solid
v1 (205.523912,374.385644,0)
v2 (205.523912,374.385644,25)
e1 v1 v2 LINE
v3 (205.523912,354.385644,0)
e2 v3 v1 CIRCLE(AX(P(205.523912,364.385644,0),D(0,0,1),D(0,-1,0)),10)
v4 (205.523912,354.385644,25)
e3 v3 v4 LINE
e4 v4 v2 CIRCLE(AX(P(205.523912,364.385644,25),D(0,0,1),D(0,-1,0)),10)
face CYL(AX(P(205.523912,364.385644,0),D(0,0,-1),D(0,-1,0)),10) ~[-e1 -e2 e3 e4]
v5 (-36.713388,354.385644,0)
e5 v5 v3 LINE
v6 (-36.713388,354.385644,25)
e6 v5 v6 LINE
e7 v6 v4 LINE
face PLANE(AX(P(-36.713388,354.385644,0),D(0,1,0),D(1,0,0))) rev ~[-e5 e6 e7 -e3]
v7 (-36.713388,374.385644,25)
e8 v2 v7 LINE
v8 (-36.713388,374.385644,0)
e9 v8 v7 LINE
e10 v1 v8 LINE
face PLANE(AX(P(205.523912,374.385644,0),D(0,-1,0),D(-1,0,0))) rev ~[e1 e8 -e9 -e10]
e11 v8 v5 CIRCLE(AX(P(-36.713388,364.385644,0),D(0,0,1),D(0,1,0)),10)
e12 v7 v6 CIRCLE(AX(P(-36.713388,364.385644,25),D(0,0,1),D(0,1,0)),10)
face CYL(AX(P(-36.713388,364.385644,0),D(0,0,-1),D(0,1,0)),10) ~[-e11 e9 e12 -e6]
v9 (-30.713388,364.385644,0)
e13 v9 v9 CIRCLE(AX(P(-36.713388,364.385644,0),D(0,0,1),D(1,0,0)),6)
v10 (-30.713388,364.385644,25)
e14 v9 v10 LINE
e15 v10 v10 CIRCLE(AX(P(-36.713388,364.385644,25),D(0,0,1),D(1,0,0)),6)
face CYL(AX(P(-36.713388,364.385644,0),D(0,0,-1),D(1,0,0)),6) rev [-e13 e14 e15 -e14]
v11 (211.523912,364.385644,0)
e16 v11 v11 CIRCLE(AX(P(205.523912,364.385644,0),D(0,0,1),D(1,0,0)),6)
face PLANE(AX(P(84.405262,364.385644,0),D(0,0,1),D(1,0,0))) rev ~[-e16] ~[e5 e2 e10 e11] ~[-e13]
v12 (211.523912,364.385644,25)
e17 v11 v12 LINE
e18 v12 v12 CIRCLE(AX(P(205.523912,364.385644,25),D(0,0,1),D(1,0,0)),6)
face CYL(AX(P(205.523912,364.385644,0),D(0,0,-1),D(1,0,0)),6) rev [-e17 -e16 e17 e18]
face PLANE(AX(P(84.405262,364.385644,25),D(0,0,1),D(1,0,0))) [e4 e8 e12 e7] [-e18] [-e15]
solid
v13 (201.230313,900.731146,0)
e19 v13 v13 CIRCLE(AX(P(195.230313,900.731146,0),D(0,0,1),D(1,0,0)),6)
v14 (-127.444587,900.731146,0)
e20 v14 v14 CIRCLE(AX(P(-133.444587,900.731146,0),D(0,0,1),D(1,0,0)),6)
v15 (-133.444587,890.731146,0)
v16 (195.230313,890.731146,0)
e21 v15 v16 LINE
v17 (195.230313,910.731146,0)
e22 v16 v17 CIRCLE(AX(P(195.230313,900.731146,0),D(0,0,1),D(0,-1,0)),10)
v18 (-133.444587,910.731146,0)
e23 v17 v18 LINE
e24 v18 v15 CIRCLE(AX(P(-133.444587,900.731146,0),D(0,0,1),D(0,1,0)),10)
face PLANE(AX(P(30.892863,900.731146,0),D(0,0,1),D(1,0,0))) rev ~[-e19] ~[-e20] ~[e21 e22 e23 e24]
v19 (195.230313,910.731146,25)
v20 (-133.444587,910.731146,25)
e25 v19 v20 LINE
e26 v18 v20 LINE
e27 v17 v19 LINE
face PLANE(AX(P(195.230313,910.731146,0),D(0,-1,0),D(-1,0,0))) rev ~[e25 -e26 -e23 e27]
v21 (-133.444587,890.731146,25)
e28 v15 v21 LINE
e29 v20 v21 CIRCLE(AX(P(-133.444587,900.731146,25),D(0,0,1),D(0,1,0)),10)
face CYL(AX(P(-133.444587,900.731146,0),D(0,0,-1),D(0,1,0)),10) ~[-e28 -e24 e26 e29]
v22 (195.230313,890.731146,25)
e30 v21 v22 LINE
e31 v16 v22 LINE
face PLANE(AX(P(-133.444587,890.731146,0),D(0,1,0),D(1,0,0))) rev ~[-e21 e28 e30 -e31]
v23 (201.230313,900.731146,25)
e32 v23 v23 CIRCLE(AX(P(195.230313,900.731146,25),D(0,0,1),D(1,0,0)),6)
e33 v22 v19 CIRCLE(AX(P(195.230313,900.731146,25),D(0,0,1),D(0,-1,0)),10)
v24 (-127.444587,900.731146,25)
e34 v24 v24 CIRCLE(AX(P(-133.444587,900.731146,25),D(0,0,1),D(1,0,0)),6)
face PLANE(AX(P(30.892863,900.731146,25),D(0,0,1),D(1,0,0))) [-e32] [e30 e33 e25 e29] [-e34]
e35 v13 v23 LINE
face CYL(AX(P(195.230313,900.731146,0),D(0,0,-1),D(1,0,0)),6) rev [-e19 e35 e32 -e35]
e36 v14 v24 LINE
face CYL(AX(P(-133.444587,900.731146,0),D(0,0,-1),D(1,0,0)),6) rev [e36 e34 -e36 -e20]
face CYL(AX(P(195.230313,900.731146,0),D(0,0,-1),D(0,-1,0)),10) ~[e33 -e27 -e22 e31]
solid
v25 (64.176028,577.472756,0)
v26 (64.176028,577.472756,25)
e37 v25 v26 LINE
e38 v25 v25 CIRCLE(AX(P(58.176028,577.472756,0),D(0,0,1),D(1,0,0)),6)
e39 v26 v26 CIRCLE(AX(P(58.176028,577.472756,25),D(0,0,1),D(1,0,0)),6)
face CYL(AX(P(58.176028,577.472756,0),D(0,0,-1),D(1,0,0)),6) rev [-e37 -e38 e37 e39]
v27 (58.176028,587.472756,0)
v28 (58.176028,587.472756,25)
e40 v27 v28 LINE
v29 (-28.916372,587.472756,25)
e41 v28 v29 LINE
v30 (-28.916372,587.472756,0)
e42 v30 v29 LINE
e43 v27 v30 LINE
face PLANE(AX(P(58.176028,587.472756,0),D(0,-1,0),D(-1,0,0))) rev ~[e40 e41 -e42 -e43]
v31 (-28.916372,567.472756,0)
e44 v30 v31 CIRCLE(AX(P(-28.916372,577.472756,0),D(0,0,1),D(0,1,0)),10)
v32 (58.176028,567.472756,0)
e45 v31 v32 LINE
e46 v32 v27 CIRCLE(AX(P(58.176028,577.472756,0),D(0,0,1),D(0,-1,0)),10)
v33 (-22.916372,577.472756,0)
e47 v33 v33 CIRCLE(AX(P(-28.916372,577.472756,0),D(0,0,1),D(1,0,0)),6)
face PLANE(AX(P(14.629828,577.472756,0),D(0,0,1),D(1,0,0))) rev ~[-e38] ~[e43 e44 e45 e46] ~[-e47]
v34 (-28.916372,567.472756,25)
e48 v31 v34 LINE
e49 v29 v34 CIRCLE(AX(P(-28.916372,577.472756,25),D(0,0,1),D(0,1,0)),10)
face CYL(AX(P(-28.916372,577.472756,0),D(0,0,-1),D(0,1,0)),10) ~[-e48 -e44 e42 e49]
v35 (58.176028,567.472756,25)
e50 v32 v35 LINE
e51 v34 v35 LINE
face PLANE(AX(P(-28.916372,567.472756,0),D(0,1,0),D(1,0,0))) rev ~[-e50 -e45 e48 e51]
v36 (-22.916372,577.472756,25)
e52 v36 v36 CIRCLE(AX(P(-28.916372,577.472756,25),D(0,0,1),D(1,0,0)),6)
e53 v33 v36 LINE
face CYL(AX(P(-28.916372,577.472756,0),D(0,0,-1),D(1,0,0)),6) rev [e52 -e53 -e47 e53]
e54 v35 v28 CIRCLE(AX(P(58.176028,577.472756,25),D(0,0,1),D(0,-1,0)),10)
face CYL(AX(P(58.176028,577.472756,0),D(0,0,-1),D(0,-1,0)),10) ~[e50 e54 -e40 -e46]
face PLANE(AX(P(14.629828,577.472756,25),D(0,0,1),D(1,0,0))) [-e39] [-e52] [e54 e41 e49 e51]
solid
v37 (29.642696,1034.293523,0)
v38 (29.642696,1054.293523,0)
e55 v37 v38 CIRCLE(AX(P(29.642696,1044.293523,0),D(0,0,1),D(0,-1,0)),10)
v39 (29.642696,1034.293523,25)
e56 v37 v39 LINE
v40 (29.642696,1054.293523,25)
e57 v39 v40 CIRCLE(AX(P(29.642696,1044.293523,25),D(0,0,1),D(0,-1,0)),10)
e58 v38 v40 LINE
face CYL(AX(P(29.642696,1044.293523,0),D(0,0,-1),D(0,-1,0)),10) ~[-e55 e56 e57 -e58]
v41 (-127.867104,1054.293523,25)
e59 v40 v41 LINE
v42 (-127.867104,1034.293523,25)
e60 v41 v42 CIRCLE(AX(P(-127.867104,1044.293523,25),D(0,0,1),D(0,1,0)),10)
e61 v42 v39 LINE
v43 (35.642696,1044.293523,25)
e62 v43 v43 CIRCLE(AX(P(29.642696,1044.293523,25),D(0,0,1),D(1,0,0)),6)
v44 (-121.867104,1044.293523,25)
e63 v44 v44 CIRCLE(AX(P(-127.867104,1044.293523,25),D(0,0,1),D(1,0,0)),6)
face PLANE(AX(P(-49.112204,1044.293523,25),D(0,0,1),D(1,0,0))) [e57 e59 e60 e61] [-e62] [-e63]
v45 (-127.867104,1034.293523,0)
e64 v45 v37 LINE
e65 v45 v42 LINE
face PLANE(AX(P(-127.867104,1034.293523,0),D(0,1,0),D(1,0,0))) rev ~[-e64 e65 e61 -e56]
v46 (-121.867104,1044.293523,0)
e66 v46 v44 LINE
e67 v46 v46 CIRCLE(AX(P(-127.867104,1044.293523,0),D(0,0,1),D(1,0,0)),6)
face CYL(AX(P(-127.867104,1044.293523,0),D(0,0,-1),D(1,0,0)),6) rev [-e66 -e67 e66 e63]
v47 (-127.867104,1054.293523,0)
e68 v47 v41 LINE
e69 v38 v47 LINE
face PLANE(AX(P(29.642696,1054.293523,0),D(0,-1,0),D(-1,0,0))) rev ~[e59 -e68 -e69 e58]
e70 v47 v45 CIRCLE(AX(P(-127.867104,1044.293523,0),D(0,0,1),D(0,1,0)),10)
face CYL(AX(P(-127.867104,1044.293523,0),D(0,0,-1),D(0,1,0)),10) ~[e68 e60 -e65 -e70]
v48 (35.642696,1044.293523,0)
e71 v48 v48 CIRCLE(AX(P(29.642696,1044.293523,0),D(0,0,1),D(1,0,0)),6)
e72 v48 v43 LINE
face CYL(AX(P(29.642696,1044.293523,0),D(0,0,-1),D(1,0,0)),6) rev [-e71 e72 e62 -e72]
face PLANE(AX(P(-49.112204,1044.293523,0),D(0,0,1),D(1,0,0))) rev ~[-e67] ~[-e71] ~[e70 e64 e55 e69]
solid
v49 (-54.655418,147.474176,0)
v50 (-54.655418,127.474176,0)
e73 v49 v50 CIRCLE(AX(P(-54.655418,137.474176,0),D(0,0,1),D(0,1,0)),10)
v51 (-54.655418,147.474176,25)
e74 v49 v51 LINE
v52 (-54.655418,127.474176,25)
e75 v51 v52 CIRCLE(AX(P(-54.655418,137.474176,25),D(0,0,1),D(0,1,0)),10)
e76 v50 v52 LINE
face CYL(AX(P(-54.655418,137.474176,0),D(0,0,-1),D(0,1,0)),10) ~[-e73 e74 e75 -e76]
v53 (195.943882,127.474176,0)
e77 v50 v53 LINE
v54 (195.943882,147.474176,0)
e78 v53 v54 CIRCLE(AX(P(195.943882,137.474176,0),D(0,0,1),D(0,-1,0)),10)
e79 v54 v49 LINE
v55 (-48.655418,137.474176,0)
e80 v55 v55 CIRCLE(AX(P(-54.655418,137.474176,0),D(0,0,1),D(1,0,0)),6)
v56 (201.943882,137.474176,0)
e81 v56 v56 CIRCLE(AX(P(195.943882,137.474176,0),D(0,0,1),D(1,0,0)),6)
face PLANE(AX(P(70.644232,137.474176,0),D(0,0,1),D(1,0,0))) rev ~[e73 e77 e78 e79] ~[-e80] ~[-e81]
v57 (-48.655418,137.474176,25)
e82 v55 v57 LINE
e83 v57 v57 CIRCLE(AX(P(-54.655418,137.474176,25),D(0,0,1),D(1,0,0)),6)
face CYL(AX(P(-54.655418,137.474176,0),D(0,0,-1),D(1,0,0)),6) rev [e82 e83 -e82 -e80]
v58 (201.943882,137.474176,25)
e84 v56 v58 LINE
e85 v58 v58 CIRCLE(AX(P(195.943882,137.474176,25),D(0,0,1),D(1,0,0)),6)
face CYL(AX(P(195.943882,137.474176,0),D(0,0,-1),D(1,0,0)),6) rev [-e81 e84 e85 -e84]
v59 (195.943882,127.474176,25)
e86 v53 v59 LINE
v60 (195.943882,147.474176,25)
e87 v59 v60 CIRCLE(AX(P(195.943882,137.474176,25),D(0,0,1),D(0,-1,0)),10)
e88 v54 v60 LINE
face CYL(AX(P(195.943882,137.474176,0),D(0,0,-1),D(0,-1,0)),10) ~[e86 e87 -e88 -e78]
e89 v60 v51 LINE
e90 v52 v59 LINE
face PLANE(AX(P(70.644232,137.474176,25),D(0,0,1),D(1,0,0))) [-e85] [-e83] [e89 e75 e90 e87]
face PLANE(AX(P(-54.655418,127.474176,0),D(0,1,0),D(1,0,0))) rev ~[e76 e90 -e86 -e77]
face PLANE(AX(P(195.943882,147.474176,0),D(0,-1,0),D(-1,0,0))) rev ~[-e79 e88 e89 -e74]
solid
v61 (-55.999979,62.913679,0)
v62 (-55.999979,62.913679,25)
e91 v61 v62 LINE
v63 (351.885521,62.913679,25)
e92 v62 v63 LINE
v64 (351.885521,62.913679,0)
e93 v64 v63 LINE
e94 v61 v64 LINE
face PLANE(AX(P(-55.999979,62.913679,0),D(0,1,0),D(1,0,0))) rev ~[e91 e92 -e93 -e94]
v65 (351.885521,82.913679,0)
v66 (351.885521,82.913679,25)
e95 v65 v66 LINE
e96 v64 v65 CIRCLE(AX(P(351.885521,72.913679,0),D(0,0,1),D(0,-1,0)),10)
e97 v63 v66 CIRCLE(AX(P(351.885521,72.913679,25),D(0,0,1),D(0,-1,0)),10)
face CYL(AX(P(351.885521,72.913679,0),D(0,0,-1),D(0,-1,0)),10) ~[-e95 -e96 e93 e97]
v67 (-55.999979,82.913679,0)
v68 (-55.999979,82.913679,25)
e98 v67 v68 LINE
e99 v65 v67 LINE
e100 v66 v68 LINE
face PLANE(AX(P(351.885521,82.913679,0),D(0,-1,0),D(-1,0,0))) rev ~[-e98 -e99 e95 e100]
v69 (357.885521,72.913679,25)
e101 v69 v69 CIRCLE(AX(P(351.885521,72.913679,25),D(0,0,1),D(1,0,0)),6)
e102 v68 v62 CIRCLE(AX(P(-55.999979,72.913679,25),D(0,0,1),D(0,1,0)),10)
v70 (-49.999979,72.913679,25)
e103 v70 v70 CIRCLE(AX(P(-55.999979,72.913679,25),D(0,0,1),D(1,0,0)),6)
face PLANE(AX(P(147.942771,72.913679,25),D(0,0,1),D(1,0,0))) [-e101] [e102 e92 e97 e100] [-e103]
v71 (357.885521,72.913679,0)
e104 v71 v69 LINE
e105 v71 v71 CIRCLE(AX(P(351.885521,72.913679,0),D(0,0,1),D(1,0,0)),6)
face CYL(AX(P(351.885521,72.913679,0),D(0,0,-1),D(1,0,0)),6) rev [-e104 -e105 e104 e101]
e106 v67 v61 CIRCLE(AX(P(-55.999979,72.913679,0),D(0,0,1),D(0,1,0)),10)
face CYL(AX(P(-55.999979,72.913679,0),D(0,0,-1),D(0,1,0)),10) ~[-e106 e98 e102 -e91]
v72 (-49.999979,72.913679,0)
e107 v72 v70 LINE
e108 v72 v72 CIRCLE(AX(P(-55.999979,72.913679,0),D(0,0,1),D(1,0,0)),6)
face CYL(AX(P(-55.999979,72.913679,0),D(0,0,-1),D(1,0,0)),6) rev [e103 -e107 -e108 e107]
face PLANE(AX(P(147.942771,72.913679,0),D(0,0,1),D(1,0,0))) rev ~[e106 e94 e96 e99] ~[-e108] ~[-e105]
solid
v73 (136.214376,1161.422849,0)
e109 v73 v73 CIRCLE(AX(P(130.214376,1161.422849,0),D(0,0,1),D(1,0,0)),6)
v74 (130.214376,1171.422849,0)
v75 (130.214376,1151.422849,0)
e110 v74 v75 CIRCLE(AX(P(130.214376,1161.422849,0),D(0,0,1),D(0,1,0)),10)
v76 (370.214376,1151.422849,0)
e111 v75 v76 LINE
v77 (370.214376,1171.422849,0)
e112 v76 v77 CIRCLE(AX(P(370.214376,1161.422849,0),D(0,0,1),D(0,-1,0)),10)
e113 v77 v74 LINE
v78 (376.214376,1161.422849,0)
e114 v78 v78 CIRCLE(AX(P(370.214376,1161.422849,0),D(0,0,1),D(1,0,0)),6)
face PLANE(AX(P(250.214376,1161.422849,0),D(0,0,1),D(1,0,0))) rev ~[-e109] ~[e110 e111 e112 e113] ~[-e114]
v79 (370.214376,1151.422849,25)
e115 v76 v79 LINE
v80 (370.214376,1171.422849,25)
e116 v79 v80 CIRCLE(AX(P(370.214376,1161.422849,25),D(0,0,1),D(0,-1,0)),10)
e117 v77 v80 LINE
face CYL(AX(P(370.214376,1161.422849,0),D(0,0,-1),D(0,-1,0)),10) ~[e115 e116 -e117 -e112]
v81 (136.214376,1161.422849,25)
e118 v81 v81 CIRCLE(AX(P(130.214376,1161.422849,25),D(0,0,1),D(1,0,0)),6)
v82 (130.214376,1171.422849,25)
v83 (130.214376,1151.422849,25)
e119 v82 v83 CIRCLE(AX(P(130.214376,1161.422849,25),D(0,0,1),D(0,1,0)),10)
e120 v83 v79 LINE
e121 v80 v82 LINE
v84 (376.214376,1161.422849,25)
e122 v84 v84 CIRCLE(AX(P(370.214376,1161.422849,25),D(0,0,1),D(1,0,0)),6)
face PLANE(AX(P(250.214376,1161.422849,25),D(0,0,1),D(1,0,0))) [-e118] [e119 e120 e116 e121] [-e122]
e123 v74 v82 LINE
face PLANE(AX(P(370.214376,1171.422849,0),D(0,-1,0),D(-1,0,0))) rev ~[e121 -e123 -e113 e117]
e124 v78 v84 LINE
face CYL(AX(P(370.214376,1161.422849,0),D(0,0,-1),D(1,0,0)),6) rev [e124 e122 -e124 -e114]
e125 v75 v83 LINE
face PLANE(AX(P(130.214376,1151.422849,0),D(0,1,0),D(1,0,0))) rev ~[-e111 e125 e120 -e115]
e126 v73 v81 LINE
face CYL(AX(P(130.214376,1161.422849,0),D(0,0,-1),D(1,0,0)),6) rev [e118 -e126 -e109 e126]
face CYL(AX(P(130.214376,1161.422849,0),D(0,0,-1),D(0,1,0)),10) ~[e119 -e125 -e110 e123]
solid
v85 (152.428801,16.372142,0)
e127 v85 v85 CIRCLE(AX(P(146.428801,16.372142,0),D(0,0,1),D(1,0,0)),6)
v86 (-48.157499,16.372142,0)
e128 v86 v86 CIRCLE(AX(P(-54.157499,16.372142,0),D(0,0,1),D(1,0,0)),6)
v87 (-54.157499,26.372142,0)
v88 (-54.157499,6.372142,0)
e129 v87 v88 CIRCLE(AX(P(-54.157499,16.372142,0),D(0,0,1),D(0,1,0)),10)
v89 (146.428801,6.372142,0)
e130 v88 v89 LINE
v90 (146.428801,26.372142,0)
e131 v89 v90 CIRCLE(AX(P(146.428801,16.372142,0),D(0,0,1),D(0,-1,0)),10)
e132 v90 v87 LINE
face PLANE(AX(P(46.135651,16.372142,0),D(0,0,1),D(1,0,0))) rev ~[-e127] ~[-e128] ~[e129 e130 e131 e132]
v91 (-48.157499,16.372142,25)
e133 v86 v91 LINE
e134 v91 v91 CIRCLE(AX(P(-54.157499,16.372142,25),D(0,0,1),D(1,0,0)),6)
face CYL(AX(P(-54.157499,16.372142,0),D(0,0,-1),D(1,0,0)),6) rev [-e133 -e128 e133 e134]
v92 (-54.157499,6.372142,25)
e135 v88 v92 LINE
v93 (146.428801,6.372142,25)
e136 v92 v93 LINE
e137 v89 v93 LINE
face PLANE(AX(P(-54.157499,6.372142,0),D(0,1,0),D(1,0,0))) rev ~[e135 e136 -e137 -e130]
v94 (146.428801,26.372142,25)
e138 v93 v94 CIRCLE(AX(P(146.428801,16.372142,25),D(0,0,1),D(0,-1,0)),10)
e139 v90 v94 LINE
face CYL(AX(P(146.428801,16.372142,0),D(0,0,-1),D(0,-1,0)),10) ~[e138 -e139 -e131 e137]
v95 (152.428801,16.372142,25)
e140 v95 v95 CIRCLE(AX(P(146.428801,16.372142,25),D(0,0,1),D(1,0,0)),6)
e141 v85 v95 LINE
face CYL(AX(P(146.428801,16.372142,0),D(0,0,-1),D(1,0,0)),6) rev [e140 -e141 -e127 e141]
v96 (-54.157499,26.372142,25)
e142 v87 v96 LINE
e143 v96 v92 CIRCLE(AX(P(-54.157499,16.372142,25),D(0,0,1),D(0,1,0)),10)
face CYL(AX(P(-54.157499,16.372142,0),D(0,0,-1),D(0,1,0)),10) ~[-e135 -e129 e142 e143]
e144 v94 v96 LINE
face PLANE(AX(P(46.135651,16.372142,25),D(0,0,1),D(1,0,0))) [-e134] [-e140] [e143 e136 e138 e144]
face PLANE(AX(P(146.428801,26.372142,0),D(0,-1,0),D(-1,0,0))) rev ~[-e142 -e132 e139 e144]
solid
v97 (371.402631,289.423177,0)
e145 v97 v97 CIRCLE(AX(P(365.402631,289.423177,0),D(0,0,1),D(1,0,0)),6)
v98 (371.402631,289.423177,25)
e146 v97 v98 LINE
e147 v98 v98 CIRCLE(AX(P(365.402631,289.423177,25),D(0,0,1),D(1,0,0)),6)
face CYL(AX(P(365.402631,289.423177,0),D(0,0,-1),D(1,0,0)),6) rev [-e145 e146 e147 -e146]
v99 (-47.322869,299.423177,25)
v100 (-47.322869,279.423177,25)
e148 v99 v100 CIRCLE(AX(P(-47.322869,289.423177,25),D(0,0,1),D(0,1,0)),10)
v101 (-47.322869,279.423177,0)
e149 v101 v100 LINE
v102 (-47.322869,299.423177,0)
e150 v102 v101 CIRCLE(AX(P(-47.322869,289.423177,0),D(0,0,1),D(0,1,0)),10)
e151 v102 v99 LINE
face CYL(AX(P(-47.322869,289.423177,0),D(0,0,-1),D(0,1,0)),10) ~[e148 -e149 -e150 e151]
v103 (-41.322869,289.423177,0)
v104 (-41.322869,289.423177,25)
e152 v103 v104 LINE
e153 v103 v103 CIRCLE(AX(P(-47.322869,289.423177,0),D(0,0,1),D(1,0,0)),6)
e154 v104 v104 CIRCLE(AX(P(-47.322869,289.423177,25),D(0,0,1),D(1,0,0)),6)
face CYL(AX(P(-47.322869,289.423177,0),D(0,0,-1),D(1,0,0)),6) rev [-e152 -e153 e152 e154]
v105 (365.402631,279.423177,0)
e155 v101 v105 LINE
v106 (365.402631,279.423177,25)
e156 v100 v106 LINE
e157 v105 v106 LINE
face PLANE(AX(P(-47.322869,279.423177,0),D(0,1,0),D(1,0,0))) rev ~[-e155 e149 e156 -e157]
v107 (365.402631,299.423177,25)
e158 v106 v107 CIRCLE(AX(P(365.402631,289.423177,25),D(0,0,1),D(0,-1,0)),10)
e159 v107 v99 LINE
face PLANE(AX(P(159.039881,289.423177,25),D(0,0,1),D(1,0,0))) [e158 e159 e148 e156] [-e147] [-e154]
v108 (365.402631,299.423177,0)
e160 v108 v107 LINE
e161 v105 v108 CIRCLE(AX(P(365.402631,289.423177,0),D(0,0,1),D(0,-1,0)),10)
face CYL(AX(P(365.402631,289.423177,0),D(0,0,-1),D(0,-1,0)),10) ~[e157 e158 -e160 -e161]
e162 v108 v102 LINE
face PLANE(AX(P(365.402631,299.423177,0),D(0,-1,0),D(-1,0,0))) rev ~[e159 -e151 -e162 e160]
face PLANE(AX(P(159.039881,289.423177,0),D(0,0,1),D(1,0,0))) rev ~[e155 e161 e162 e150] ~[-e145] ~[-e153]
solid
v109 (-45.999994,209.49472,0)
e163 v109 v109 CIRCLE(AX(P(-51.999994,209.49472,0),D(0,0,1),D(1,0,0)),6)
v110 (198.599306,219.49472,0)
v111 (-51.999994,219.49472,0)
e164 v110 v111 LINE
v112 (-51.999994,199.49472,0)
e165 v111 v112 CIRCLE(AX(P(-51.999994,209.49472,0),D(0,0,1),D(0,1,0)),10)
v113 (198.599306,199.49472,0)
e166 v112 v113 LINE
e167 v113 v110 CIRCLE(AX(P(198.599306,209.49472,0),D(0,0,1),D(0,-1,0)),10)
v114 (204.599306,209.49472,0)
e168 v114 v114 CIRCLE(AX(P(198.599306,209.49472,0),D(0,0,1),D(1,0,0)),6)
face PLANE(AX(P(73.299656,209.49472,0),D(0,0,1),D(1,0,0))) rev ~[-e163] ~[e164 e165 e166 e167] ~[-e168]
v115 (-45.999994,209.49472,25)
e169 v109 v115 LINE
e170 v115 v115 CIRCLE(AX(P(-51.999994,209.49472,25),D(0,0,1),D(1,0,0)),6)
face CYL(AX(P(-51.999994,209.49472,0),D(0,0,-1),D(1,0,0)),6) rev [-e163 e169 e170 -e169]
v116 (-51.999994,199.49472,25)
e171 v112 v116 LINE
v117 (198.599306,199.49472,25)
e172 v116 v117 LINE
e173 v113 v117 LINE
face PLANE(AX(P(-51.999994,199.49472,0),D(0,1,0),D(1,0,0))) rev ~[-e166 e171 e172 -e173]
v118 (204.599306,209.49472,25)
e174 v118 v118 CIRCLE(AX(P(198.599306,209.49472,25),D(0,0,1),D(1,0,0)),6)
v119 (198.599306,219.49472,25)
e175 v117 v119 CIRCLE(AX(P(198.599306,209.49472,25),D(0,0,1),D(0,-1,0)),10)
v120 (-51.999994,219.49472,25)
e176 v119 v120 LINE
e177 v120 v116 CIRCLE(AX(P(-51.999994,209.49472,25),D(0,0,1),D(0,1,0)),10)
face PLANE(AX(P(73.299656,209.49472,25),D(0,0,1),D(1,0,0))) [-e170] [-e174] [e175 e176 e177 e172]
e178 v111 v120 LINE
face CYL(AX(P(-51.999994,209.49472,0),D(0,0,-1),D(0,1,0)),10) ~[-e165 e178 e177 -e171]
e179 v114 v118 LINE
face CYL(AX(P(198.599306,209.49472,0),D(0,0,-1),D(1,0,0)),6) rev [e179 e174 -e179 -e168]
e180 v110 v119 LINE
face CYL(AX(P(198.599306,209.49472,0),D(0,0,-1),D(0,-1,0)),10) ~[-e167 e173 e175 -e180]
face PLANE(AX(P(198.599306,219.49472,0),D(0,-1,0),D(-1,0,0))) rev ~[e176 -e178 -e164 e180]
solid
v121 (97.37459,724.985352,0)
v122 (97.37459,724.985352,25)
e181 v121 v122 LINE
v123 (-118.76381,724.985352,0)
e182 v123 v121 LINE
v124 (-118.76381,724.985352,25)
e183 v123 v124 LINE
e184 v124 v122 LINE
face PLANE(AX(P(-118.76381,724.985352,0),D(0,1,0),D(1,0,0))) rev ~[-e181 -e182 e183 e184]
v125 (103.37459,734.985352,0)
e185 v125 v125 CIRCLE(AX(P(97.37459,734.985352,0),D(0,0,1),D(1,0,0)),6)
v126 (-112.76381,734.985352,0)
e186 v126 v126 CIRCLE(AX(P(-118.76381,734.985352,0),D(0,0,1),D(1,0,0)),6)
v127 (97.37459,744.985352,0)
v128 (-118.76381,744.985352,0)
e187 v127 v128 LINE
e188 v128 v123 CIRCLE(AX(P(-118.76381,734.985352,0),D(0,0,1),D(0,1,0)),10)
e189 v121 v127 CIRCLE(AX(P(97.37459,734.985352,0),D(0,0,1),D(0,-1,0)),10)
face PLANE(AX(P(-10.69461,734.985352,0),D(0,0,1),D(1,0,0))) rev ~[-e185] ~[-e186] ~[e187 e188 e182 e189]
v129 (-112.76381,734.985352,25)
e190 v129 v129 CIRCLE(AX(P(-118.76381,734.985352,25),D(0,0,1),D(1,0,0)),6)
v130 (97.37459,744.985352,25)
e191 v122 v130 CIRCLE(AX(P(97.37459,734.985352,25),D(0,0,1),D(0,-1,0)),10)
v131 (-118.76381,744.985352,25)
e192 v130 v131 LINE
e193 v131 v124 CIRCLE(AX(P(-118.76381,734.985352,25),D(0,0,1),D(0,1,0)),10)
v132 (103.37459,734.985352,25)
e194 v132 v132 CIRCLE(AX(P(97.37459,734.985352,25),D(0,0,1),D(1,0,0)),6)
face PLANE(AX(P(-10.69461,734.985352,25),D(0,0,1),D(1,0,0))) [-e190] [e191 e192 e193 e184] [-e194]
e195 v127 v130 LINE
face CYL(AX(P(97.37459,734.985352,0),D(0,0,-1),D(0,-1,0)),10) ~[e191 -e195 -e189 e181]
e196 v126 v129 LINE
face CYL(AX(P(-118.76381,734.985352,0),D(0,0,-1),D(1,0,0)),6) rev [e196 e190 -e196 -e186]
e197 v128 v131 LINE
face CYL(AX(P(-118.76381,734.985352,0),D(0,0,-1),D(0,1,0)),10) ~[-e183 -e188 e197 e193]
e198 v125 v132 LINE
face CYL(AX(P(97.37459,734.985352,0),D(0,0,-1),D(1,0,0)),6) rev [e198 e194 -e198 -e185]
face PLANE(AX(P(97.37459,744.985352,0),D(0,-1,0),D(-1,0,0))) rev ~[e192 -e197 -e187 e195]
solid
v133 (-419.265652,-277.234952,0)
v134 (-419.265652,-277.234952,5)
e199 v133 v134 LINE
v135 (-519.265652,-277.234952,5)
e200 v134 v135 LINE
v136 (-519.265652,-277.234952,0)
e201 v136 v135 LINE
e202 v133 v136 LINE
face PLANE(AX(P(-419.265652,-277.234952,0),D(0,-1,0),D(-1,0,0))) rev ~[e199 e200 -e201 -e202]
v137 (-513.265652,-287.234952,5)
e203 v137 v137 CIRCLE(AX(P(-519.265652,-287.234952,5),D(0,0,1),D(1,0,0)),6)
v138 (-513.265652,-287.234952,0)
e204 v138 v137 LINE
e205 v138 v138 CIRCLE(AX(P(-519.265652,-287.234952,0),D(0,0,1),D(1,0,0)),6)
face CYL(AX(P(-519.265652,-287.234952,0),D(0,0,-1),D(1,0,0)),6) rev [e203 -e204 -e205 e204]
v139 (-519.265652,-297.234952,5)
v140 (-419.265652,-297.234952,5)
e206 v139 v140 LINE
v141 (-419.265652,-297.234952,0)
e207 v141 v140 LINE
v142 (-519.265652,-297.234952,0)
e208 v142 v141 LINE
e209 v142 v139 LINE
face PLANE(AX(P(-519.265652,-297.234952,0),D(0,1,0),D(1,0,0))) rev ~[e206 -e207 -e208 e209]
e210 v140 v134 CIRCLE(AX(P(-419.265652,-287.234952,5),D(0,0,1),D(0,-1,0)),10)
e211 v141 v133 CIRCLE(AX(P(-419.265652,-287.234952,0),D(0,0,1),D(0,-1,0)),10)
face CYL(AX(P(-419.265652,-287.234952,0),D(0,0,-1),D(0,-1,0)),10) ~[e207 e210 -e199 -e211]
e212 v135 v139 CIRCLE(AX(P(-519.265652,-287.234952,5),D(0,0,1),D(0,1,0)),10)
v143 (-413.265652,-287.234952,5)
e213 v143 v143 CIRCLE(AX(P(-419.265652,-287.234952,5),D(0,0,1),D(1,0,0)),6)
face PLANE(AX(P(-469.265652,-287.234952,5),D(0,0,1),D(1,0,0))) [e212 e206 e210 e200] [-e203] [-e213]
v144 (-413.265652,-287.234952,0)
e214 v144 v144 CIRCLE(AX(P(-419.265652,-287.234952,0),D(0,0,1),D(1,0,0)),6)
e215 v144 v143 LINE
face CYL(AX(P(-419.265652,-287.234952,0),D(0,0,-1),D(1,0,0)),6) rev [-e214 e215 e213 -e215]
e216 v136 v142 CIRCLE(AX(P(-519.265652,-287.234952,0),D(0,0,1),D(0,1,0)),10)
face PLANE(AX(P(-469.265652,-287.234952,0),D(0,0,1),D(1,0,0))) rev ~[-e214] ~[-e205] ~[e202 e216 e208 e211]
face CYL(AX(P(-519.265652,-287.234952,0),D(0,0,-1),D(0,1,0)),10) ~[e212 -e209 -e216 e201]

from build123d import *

# Parameters (mm, degrees)
F0_R      = 6
F1_DEPTH  = 25
F2_R      = 6
F3_DEPTH  = 25
F4_R      = 6
F5_DEPTH  = 25
F6_R      = 6
F7_DEPTH  = 25
F8_R      = 6
F9_DEPTH  = 25
F10_R     = 6
F11_DEPTH = 25
F12_R     = 6
F13_DEPTH = 5
F14_R     = 6
F15_DEPTH = 25
F16_R     = 6
F17_DEPTH = 25
F18_R     = 6
F19_DEPTH = 25
F20_R     = 6
F21_DEPTH = 25
F22_R     = 6
F23_DEPTH = 25


with BuildPart() as f1:
    # F0 (on Top) → F1 (new body)
    with BuildSketch(Plane.XY):
        with BuildLine():
            ThreePointArc((-54.157499, 26.372142), (-64.157499, 16.372142), (-54.157499, 6.372142))
            Line((-54.157499, 6.372142), (146.428801, 6.372142))
            ThreePointArc((146.428801, 6.372142), (156.428801, 16.372142), (146.428801, 26.372142))
            Line((146.428801, 26.372142), (-54.157499, 26.372142))
        make_face()
        with Locations((-54.157499, 16.372142)):
            Circle(F0_R, mode=Mode.SUBTRACT)
        with Locations((146.428801, 16.372142)):
            Circle(F0_R, mode=Mode.SUBTRACT)
    extrude(amount=F1_DEPTH)


with BuildPart() as f3:
    # F2 (on Top) → F3 (new body)
    with BuildSketch(Plane.XY):
        with BuildLine():
            ThreePointArc((-55.999979, 82.913679), (-65.999979, 72.913679), (-55.999979, 62.913679))
            Line((-55.999979, 62.913679), (351.885521, 62.913679))
            ThreePointArc((351.885521, 62.913679), (361.885521, 72.913679), (351.885521, 82.913679))
            Line((351.885521, 82.913679), (-55.999979, 82.913679))
        make_face()
        with Locations((-55.999979, 72.913679)):
            Circle(F2_R, mode=Mode.SUBTRACT)
        with Locations((351.885521, 72.913679)):
            Circle(F2_R, mode=Mode.SUBTRACT)
    extrude(amount=F3_DEPTH)


with BuildPart() as f5:
    # F4 (on Top) → F5 (new body)
    with BuildSketch(Plane.XY):
        with BuildLine():
            ThreePointArc((-54.655418, 147.474176), (-64.655418, 137.474176), (-54.655418, 127.474176))
            Line((-54.655418, 127.474176), (195.943882, 127.474176))
            ThreePointArc((195.943882, 127.474176), (205.943882, 137.474176), (195.943882, 147.474176))
            Line((195.943882, 147.474176), (-54.655418, 147.474176))
        make_face()
        with Locations((-54.655418, 137.474176)):
            Circle(F4_R, mode=Mode.SUBTRACT)
        with Locations((195.943882, 137.474176)):
            Circle(F4_R, mode=Mode.SUBTRACT)
    extrude(amount=F5_DEPTH)


with BuildPart() as f7:
    # F6 (on Top) → F7 (new body)
    with BuildSketch(Plane.XY):
        with BuildLine():
            ThreePointArc((-51.999994, 219.49472), (-61.999994, 209.49472), (-51.999994, 199.49472))
            Line((-51.999994, 199.49472), (198.599306, 199.49472))
            ThreePointArc((198.599306, 199.49472), (208.599306, 209.49472), (198.599306, 219.49472))
            Line((198.599306, 219.49472), (-51.999994, 219.49472))
        make_face()
        with Locations((-51.999994, 209.49472)):
            Circle(F6_R, mode=Mode.SUBTRACT)
        with Locations((198.599306, 209.49472)):
            Circle(F6_R, mode=Mode.SUBTRACT)
    extrude(amount=F7_DEPTH)


with BuildPart() as f9:
    # F8 (on Top) → F9 (new body)
    with BuildSketch(Plane.XY):
        with BuildLine():
            ThreePointArc((-47.322869, 299.423177), (-57.322869, 289.423177), (-47.322869, 279.423177))
            Line((-47.322869, 279.423177), (365.402631, 279.423177))
            ThreePointArc((365.402631, 279.423177), (375.402631, 289.423177), (365.402631, 299.423177))
            Line((365.402631, 299.423177), (-47.322869, 299.423177))
        make_face()
        with Locations((-47.322869, 289.423177)):
            Circle(F8_R, mode=Mode.SUBTRACT)
        with Locations((365.402631, 289.423177)):
            Circle(F8_R, mode=Mode.SUBTRACT)
    extrude(amount=F9_DEPTH)


with BuildPart() as f11:
    # F10 (on Top) → F11 (new body)
    with BuildSketch(Plane.XY):
        with BuildLine():
            ThreePointArc((-36.713388, 374.385644), (-46.713388, 364.385644), (-36.713388, 354.385644))
            Line((-36.713388, 354.385644), (205.523912, 354.385644))
            ThreePointArc((205.523912, 354.385644), (215.523912, 364.385644), (205.523912, 374.385644))
            Line((205.523912, 374.385644), (-36.713388, 374.385644))
        make_face()
        with Locations((-36.713388, 364.385644)):
            Circle(F10_R, mode=Mode.SUBTRACT)
        with Locations((205.523912, 364.385644)):
            Circle(F10_R, mode=Mode.SUBTRACT)
    extrude(amount=F11_DEPTH)


with BuildPart() as f13:
    # F12 (on Top) → F13 (new body)
    with BuildSketch(Plane.XY):
        with BuildLine():
            ThreePointArc((-519.265652, -277.234952), (-529.265652, -287.234952), (-519.265652, -297.234952))
            Line((-519.265652, -297.234952), (-419.265652, -297.234952))
            ThreePointArc((-419.265652, -297.234952), (-409.265652, -287.234952), (-419.265652, -277.234952))
            Line((-419.265652, -277.234952), (-519.265652, -277.234952))
        make_face()
        with Locations((-519.265652, -287.234952)):
            Circle(F12_R, mode=Mode.SUBTRACT)
        with Locations((-419.265652, -287.234952)):
            Circle(F12_R, mode=Mode.SUBTRACT)
    extrude(amount=F13_DEPTH)


with BuildPart() as f15:
    # F14 (on Top) → F15 (new body)
    with BuildSketch(Plane.XY):
        with BuildLine():
            ThreePointArc((-28.916372, 587.472756), (-38.916372, 577.472756), (-28.916372, 567.472756))
            Line((-28.916372, 567.472756), (58.176028, 567.472756))
            ThreePointArc((58.176028, 567.472756), (68.176028, 577.472756), (58.176028, 587.472756))
            Line((58.176028, 587.472756), (-28.916372, 587.472756))
        make_face()
        with Locations((-28.916372, 577.472756)):
            Circle(F14_R, mode=Mode.SUBTRACT)
        with Locations((58.176028, 577.472756)):
            Circle(F14_R, mode=Mode.SUBTRACT)
    extrude(amount=F15_DEPTH)


with BuildPart() as f17:
    # F16 (on Top) → F17 (new body)
    with BuildSketch(Plane.XY):
        with BuildLine():
            ThreePointArc((-118.76381, 744.985352), (-128.76381, 734.985352), (-118.76381, 724.985352))
            Line((-118.76381, 724.985352), (97.37459, 724.985352))
            ThreePointArc((97.37459, 724.985352), (107.37459, 734.985352), (97.37459, 744.985352))
            Line((97.37459, 744.985352), (-118.76381, 744.985352))
        make_face()
        with Locations((-118.76381, 734.985352)):
            Circle(F16_R, mode=Mode.SUBTRACT)
        with Locations((97.37459, 734.985352)):
            Circle(F16_R, mode=Mode.SUBTRACT)
    extrude(amount=F17_DEPTH)


with BuildPart() as f19:
    # F18 (on Top) → F19 (new body)
    with BuildSketch(Plane.XY):
        with BuildLine():
            ThreePointArc((-133.444587, 910.731146), (-143.444587, 900.731146), (-133.444587, 890.731146))
            Line((-133.444587, 890.731146), (195.230313, 890.731146))
            ThreePointArc((195.230313, 890.731146), (205.230313, 900.731146), (195.230313, 910.731146))
            Line((195.230313, 910.731146), (-133.444587, 910.731146))
        make_face()
        with Locations((-133.444587, 900.731146)):
            Circle(F18_R, mode=Mode.SUBTRACT)
        with Locations((195.230313, 900.731146)):
            Circle(F18_R, mode=Mode.SUBTRACT)
    extrude(amount=F19_DEPTH)


with BuildPart() as f21:
    # F20 (on Top) → F21 (new body)
    with BuildSketch(Plane.XY):
        with BuildLine():
            ThreePointArc((-127.867104, 1054.293523), (-137.867104, 1044.293523), (-127.867104, 1034.293523))
            Line((-127.867104, 1034.293523), (29.642696, 1034.293523))
            ThreePointArc((29.642696, 1034.293523), (39.642696, 1044.293523), (29.642696, 1054.293523))
            Line((29.642696, 1054.293523), (-127.867104, 1054.293523))
        make_face()
        with Locations((-127.867104, 1044.293523)):
            Circle(F20_R, mode=Mode.SUBTRACT)
        with Locations((29.642696, 1044.293523)):
            Circle(F20_R, mode=Mode.SUBTRACT)
    extrude(amount=F21_DEPTH)


with BuildPart() as f23:
    # F22 (on Top) → F23 (new body)
    with BuildSketch(Plane.XY):
        with BuildLine():
            ThreePointArc((130.214376, 1171.422849), (120.214376, 1161.422849), (130.214376, 1151.422849))
            Line((130.214376, 1151.422849), (370.214376, 1151.422849))
            ThreePointArc((370.214376, 1151.422849), (380.214376, 1161.422849), (370.214376, 1171.422849))
            Line((370.214376, 1171.422849), (130.214376, 1171.422849))
        make_face()
        with Locations((130.214376, 1161.422849)):
            Circle(F22_R, mode=Mode.SUBTRACT)
        with Locations((370.214376, 1161.422849)):
            Circle(F22_R, mode=Mode.SUBTRACT)
    extrude(amount=F23_DEPTH)


solid = Compound([f1.part, f3.part, f5.part, f7.part, f9.part, f11.part, f13.part, f15.part, f17.part, f19.part, f21.part, f23.part])
